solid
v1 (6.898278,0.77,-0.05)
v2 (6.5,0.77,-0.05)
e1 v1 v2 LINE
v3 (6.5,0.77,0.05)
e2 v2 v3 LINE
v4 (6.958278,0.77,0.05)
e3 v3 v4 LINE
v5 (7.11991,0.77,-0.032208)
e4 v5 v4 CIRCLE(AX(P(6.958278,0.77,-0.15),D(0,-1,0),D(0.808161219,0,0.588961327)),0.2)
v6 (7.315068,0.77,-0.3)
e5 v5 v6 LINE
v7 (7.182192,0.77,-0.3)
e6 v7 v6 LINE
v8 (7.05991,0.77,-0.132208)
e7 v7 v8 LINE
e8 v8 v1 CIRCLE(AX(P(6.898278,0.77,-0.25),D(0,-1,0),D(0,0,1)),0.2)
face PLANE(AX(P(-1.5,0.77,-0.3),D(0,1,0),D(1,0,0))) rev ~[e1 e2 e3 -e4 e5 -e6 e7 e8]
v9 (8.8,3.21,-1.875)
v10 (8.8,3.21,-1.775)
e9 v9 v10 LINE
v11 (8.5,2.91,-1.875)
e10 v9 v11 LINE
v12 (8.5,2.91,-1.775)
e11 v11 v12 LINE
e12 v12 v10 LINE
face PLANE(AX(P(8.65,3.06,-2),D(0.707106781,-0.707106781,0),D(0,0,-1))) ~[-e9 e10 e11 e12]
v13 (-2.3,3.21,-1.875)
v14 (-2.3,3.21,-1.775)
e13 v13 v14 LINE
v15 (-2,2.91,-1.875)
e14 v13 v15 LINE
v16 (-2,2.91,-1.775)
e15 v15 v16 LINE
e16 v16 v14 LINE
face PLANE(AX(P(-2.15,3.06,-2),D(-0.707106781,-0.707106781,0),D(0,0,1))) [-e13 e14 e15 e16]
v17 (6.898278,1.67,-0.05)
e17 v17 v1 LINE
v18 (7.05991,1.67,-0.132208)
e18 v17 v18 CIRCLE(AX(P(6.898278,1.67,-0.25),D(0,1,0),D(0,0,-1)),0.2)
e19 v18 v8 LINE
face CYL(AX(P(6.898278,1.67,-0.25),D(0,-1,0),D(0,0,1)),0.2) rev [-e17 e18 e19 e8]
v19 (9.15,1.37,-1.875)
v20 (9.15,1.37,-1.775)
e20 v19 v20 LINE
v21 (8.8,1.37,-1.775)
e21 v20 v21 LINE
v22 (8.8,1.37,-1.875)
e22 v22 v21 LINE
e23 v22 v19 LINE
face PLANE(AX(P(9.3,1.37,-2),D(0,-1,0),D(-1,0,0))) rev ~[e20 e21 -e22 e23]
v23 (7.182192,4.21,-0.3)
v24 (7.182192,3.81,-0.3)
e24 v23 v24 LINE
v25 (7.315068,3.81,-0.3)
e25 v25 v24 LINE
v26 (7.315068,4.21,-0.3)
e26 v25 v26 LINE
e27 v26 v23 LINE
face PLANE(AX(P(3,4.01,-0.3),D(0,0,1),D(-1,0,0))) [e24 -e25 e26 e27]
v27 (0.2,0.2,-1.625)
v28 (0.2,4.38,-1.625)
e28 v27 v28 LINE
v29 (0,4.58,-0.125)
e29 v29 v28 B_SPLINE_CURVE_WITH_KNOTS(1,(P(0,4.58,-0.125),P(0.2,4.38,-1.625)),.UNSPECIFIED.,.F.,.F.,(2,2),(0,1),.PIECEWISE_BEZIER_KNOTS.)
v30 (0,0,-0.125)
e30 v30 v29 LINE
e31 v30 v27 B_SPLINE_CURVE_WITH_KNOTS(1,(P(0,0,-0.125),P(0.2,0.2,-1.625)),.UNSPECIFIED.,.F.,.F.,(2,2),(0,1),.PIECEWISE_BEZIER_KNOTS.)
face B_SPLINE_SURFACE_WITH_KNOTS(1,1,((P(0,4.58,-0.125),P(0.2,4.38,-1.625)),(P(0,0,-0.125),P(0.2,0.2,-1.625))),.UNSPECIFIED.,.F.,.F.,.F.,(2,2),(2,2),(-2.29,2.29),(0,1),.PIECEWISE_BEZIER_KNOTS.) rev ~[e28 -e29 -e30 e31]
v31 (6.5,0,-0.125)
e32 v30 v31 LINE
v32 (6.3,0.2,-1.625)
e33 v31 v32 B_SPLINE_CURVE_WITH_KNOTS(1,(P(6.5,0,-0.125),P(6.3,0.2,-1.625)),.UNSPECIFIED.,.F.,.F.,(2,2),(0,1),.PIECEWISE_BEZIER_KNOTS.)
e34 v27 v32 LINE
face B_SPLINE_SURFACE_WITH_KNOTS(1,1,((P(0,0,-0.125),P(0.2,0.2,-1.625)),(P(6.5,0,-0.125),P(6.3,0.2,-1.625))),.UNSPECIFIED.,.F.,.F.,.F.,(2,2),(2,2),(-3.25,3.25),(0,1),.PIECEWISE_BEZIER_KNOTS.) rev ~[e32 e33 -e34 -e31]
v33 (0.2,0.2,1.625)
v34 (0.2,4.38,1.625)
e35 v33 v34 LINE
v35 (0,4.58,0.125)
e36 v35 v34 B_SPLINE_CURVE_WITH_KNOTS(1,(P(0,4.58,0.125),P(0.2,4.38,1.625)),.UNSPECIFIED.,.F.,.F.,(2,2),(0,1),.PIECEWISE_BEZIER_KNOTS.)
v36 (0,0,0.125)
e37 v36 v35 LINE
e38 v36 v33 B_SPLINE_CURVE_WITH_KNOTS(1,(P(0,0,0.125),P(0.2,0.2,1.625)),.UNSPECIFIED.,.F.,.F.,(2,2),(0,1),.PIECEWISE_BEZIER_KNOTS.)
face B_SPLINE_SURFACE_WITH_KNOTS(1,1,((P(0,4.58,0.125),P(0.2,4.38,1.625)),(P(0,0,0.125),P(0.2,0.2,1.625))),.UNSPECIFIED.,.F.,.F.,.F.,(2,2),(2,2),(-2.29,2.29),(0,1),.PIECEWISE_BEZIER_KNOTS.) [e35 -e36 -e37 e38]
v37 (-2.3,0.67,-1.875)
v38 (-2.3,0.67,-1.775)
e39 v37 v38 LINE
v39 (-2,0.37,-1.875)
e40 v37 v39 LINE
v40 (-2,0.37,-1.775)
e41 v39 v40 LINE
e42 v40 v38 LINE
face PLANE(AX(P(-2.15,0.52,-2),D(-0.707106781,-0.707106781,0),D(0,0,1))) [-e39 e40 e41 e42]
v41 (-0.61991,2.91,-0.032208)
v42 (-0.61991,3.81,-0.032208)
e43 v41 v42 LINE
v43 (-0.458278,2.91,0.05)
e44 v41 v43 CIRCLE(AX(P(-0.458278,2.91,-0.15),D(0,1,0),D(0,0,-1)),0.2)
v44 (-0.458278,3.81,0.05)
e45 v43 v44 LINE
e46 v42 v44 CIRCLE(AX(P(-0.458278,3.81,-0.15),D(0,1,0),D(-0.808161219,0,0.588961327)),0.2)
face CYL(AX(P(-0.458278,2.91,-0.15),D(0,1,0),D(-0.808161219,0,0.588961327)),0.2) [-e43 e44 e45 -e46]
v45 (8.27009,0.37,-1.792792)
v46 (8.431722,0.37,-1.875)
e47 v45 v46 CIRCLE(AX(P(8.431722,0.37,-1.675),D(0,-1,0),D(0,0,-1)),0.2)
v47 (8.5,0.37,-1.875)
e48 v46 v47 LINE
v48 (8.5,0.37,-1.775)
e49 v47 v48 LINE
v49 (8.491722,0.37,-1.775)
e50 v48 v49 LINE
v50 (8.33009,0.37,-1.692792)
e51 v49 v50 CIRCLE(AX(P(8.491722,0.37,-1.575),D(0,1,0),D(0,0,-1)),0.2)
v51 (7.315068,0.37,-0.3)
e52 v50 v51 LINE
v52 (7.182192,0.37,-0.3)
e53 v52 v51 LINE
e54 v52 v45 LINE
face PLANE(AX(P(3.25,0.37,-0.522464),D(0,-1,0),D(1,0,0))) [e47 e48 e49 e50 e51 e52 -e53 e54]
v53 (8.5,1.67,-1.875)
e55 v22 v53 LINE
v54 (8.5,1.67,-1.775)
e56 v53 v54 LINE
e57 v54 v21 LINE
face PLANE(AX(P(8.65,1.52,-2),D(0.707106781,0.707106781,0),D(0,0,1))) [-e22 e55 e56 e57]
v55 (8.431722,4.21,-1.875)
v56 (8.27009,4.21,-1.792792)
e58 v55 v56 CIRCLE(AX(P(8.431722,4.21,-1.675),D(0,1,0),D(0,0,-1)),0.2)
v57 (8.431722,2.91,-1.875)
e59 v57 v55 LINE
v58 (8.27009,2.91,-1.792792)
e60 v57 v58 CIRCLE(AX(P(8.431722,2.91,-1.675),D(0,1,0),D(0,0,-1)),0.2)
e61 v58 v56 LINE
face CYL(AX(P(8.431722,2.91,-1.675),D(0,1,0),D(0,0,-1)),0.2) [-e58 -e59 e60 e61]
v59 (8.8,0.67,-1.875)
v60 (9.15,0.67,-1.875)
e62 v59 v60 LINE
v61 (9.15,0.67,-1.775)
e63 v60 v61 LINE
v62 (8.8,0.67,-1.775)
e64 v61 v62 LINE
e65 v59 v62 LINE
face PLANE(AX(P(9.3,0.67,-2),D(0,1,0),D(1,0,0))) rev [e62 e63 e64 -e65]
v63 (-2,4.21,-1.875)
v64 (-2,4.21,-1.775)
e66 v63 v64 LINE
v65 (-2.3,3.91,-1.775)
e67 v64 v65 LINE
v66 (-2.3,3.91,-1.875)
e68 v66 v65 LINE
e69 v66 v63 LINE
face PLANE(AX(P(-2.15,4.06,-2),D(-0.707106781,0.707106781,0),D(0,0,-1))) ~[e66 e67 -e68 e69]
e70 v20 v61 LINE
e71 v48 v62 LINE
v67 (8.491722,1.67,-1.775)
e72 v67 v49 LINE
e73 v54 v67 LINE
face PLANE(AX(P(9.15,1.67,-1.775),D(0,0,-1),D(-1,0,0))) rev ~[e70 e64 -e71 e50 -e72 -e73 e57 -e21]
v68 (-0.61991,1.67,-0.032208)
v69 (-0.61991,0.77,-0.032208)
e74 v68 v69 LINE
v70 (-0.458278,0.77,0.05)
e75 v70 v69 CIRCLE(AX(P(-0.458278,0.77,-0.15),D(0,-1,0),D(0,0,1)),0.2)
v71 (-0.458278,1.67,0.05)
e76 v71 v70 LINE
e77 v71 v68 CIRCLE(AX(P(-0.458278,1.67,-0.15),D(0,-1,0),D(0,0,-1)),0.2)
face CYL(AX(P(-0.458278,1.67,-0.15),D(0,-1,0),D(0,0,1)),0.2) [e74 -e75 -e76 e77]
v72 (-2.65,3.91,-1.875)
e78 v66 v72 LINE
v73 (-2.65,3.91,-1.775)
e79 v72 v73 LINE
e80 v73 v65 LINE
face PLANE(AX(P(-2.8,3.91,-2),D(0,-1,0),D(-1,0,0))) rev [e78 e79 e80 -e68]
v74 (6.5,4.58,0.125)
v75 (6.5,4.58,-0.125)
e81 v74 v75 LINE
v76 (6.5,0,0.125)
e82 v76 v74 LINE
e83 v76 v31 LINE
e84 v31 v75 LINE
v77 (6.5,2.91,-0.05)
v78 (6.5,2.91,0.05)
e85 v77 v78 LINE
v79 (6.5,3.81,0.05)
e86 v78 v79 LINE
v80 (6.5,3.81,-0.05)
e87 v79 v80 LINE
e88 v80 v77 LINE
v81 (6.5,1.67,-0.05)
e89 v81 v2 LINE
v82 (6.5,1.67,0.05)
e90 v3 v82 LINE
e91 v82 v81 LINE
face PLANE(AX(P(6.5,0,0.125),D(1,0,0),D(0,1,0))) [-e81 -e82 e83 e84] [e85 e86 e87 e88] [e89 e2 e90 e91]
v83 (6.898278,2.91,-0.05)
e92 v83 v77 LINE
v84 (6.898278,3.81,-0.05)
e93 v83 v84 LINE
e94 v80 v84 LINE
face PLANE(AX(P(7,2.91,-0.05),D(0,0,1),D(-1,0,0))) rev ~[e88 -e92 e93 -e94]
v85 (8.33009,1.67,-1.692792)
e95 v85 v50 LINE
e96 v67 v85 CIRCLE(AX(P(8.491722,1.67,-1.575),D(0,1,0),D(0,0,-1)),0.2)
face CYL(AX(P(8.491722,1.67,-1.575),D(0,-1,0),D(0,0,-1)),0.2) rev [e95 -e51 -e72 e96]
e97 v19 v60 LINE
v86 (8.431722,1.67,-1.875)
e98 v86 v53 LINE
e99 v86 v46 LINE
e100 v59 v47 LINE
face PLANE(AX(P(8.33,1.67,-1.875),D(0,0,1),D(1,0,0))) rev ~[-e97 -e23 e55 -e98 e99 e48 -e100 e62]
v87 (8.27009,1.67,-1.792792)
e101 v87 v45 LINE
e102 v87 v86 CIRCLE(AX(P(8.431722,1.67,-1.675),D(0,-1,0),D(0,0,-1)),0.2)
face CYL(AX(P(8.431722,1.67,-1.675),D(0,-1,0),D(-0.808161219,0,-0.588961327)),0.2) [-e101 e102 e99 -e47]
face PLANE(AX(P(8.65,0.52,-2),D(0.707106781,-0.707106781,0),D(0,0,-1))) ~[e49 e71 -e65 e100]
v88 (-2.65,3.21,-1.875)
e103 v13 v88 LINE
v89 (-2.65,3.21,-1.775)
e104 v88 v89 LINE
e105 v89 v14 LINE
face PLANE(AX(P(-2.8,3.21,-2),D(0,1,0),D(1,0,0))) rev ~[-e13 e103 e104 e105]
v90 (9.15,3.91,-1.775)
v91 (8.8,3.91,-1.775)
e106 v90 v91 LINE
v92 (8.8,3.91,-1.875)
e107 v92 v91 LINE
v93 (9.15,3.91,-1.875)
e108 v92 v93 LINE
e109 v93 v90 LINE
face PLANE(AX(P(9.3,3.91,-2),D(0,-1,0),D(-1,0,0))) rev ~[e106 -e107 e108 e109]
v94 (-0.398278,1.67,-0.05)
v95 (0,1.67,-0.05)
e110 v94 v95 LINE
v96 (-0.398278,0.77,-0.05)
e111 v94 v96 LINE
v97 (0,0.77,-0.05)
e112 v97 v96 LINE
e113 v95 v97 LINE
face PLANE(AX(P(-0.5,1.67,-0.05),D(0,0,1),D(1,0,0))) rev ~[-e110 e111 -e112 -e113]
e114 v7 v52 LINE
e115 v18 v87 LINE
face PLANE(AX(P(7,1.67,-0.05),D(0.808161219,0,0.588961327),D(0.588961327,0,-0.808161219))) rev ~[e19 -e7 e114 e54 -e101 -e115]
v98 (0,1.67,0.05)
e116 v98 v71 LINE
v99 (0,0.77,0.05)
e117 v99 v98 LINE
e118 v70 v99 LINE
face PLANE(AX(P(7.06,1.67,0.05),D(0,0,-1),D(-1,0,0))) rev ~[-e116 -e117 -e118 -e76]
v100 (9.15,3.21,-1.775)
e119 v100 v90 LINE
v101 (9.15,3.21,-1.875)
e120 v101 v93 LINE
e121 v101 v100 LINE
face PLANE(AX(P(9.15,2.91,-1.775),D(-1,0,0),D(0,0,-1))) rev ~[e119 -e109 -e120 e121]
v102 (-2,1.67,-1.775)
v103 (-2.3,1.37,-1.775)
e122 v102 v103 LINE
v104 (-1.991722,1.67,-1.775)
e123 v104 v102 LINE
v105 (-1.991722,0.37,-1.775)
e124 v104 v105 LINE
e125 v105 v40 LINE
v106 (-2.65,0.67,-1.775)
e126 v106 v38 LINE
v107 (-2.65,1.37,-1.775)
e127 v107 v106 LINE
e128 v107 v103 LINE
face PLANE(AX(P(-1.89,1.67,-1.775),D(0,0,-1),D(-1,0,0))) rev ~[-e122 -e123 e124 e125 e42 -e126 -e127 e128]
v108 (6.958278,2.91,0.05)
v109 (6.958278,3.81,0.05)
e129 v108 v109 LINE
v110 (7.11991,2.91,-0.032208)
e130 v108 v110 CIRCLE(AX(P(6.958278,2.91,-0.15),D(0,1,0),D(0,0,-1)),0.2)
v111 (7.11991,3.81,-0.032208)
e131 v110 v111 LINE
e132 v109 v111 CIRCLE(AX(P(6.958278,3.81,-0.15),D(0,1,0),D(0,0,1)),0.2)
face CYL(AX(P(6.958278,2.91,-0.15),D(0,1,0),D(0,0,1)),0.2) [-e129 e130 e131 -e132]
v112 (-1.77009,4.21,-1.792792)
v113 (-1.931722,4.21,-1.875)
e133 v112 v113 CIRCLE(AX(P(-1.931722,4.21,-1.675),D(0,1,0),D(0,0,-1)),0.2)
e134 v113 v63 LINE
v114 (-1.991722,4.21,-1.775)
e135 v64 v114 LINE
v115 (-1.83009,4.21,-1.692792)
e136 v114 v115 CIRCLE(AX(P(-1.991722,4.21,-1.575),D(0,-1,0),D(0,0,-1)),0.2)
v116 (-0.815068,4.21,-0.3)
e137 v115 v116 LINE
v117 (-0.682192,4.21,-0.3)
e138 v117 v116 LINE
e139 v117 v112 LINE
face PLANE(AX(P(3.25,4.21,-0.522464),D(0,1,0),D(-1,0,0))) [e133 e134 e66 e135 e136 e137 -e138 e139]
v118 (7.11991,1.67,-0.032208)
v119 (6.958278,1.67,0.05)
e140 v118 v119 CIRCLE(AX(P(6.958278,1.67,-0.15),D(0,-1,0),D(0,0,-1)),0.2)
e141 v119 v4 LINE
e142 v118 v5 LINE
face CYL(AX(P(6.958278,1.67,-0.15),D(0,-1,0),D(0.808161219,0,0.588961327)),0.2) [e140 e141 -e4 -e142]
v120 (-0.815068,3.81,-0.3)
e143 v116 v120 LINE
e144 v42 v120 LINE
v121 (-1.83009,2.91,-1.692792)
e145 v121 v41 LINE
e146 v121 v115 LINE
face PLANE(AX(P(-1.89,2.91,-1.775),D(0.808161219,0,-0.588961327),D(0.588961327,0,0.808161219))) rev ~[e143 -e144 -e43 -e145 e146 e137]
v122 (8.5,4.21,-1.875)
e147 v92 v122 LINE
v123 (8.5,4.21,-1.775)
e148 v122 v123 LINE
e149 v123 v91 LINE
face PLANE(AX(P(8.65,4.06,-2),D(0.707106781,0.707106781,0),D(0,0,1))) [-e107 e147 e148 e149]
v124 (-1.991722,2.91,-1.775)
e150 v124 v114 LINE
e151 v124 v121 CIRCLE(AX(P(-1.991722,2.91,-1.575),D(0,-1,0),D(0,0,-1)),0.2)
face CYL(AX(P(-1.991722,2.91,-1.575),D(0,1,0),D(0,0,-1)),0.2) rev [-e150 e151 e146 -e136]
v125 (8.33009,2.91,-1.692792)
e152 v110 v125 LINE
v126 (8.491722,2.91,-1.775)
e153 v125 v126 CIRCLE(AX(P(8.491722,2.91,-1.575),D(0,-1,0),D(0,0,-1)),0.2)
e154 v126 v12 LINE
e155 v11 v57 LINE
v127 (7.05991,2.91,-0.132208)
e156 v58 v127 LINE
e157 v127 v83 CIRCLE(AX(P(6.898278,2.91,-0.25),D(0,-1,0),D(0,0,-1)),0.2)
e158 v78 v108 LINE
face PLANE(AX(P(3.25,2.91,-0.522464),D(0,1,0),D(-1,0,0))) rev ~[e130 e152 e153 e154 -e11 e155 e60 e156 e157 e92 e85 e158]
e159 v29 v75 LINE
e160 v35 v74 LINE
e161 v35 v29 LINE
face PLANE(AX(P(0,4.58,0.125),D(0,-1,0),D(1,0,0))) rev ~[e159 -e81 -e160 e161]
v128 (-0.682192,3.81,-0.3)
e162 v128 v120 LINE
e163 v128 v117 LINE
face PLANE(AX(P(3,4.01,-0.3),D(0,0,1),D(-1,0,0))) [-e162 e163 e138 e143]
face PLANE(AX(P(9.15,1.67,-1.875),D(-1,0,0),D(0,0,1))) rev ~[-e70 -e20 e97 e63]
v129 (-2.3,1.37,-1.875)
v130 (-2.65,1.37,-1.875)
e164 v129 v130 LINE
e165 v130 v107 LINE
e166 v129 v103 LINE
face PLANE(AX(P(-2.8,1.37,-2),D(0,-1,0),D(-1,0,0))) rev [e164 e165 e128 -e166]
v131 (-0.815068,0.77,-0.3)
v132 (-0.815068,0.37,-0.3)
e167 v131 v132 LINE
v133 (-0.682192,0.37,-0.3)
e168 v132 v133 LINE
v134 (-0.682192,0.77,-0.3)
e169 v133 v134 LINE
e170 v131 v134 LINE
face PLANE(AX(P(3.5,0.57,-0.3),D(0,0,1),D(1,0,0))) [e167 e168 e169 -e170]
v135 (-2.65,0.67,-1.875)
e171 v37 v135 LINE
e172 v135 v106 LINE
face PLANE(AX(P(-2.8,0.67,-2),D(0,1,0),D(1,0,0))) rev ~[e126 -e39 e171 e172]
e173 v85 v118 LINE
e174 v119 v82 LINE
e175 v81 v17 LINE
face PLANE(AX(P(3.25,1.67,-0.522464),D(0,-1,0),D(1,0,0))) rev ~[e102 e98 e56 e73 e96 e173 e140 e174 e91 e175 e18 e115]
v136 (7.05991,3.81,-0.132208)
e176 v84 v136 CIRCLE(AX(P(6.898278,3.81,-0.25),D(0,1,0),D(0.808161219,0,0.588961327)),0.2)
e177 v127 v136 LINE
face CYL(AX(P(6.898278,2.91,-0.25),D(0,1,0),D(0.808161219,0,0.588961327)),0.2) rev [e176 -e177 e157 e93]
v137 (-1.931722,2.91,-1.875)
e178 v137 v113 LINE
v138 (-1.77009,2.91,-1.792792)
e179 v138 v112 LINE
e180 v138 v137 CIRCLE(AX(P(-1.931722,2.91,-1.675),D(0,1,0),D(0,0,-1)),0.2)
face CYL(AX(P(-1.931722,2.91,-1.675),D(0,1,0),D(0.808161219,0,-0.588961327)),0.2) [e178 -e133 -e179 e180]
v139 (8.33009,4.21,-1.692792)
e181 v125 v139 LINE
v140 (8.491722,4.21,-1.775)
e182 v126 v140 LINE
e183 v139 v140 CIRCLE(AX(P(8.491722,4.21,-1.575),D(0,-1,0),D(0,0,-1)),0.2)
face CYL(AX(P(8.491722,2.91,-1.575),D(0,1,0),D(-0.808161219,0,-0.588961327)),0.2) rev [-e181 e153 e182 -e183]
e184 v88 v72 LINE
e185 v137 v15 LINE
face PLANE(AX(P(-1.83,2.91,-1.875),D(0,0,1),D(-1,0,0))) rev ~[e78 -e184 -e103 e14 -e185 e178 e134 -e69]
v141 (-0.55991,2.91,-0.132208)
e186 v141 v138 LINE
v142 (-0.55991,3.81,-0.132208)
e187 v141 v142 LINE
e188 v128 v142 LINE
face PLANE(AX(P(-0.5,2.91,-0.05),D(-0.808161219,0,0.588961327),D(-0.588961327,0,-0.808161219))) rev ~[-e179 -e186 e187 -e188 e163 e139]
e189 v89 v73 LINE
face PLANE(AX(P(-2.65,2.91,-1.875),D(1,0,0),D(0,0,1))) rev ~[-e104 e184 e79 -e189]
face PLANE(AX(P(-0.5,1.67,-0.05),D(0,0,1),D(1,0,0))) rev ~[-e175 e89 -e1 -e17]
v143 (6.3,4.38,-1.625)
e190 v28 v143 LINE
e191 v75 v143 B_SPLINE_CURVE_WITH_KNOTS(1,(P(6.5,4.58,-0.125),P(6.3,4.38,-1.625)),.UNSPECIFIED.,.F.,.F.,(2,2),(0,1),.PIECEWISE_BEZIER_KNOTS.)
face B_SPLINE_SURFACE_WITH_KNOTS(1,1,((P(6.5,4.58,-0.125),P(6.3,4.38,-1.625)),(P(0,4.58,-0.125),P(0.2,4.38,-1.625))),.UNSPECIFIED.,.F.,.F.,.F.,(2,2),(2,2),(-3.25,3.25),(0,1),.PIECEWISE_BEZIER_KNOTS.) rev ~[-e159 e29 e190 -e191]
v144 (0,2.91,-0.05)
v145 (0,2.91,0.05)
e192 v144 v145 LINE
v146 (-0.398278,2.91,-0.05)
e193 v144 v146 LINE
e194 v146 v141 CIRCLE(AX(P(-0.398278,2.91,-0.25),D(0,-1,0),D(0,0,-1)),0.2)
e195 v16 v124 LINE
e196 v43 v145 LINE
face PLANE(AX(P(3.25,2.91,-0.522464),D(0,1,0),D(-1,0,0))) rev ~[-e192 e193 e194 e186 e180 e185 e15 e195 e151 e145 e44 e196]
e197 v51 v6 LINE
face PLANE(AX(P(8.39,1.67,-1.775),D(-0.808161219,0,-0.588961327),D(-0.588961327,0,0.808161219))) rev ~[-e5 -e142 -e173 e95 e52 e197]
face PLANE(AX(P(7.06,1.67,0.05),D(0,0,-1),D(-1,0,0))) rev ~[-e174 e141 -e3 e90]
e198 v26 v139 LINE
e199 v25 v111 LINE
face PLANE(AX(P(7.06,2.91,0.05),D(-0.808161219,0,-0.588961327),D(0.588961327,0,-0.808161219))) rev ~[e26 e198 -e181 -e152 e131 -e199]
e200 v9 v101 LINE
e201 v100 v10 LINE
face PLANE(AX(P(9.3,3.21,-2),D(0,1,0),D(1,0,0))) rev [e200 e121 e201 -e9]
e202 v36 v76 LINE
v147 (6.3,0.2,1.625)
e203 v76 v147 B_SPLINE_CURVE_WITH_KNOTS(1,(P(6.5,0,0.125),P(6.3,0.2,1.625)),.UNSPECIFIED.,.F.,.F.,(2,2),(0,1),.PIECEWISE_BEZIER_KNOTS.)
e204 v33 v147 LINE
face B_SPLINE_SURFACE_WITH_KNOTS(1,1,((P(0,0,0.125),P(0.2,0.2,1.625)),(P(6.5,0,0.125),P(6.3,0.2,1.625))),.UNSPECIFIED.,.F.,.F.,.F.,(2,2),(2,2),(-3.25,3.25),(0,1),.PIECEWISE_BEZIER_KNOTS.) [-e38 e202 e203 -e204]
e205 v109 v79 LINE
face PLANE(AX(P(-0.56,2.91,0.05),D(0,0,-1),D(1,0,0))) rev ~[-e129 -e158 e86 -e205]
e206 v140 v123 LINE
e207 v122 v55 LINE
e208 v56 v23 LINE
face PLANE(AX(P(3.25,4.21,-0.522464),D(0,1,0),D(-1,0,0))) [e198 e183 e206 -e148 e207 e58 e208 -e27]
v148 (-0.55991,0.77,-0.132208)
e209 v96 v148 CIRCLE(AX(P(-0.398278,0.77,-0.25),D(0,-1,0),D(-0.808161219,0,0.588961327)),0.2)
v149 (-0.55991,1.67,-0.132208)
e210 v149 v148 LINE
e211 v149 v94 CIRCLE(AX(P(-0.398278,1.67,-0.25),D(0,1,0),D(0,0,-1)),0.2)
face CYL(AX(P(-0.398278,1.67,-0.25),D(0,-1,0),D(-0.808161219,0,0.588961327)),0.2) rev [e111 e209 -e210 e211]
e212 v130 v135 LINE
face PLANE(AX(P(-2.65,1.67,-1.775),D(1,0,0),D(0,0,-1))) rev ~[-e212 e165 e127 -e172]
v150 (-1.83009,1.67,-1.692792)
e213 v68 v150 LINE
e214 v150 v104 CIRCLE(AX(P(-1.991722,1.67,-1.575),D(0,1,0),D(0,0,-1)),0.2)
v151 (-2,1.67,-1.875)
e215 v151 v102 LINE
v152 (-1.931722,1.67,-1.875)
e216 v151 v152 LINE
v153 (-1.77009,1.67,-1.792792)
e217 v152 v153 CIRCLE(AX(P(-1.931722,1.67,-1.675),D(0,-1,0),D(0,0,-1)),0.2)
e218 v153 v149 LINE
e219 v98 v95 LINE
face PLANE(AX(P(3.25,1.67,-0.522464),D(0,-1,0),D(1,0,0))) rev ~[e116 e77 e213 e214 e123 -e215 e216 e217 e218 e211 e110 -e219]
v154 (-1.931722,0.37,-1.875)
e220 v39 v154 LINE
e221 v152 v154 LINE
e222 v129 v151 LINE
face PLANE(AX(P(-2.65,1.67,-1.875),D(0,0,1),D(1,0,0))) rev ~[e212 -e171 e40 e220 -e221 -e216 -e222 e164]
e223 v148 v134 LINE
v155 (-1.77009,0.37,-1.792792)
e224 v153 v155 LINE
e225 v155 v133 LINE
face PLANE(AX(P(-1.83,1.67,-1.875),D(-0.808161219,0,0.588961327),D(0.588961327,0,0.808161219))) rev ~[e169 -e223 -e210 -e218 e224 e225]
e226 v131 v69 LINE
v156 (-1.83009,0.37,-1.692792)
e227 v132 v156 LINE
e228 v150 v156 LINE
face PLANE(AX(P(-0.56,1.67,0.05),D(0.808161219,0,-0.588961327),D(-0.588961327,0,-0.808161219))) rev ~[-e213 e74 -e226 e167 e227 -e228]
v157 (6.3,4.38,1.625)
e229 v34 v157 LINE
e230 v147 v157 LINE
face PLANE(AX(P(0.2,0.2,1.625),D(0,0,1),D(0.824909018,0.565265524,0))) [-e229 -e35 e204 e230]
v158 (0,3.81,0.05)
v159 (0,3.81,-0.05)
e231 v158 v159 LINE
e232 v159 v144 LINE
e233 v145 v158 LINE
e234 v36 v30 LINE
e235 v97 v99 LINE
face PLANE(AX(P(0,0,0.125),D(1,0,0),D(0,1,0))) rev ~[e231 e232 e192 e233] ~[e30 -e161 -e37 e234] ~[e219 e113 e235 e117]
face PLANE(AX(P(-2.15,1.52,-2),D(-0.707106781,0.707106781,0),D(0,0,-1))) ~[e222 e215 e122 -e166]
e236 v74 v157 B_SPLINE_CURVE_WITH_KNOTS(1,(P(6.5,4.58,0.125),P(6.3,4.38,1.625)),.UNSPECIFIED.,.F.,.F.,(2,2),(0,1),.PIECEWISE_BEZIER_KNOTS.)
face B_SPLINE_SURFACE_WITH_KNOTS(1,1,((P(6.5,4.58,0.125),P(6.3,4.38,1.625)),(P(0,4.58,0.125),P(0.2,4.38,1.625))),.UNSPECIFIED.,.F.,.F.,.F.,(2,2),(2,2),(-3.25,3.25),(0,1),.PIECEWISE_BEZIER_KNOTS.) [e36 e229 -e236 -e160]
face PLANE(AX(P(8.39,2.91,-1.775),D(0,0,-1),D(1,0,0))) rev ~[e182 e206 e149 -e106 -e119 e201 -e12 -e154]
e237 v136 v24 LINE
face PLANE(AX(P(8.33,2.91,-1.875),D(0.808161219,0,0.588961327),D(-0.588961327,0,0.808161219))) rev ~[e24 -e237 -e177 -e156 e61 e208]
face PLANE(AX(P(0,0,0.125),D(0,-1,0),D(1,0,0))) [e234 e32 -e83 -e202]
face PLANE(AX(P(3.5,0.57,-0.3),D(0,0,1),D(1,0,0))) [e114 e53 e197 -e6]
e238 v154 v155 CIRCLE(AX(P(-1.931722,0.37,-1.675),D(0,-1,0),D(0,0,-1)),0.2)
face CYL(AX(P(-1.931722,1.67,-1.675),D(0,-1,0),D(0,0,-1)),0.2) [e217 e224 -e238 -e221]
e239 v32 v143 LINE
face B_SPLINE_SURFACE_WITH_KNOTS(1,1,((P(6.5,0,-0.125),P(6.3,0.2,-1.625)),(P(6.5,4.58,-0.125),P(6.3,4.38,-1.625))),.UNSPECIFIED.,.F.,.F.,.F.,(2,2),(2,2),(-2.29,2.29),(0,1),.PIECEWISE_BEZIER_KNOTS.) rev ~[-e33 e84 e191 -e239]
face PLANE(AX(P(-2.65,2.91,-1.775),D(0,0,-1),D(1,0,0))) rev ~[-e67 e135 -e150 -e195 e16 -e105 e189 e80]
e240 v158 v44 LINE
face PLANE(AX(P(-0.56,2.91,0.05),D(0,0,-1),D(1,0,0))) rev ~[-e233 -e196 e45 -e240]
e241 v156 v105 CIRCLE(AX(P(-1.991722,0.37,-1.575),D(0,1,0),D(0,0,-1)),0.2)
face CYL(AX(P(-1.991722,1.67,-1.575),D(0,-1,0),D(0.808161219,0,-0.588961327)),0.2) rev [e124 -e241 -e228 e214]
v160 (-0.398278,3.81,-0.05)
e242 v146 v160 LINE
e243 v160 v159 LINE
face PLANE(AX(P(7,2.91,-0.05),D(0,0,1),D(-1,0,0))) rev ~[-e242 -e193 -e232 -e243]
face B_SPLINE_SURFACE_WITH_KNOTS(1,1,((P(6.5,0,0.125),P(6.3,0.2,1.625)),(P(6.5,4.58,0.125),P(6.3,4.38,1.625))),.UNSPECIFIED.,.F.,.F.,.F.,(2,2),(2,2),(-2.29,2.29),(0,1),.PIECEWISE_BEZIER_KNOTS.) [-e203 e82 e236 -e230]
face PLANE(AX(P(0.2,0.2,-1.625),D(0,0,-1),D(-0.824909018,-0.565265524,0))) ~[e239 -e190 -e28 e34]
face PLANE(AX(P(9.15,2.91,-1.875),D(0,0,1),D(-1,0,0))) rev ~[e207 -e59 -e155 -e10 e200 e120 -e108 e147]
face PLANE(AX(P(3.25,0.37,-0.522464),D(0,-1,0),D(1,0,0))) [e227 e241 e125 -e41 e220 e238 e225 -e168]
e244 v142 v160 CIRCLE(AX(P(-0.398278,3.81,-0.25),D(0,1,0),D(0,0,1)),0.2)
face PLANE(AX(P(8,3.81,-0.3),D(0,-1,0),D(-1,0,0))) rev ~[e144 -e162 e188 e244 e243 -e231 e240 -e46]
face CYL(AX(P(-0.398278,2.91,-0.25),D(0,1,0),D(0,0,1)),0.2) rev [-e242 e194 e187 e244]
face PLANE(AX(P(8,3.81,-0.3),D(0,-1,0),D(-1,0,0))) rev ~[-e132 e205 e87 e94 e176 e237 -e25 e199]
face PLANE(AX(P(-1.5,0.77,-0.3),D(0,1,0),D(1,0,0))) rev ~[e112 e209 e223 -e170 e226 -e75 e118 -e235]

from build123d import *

# Parameters (mm, degrees)
BOX001_W               = 0.8
BOX001_H               = 0.8
BOX001_DEPTH           = 0.5
CHAMFER_SIZE           = 0.3
BOX_W                  = 10
BOX_H                  = 0.4
BOX_DEPTH              = 0.4
EXTRUDE001_DEPTH       = 1.3
FILLET_R               = 0.2
CUT005_PLACEMENT_ANGLE = 180
SKETCH_W               = 6.5
SKETCH_H               = 4.58
EXTRUDE_DEPTH          = 0.25
SKETCH001_W            = 6.1
SKETCH001_H            = 4.18


with BuildPart() as chamfer_body:
    # Box001 → Box001 (new body)
    with BuildSketch(Plane(origin=(-2.9, -0.2, -2), x_dir=(1, 0, 0), z_dir=(0, 0, 1))):
        with Locations((0.4, 0.4)):
            Rectangle(BOX001_W, BOX001_H)
    extrude(amount=BOX001_DEPTH)

    # Chamfer
    chamfer_edges = [chamfer_body.edges().sort_by_distance(p)[0] for p in [
        (-2.1, 0.6, -1.75),
    ]]
    chamfer(chamfer_edges, length=CHAMFER_SIZE)


with BuildPart() as chamfer_body_1:
    # Chamfer placement: moved
    add(chamfer_body.part.moved(Location((0.1, -0.1, 0))))


with BuildPart() as part_mirroring001:
    # Part__Mirroring001: instance of Chamfer body
    add(chamfer_body_1.part.mirror(Plane(origin=(0, 0.85, 0), x_dir=(1, 0, 0), z_dir=(0, 1, 0))))


with BuildPart() as part_mirroring002:
    # Part__Mirroring002: instance of Part__Mirroring001
    add(part_mirroring001.part.mirror(Plane(origin=(3.25, 0, 0), x_dir=(0, -1, 0), z_dir=(1, 0, 0))))


with BuildPart() as part_mirroring003:
    # Part__Mirroring003: instance of Part__Mirroring002
    add(part_mirroring002.part.mirror(Plane(origin=(0, 0.85, 0), x_dir=(1, 0, 0), z_dir=(0, 1, 0))))


with BuildPart() as cube:
    # Box → Box (new body)
    with BuildSketch(Plane(origin=(-1.5, 0.2, -0.3), x_dir=(1, 0, 0), z_dir=(0, 0, 1))):
        with Locations((5, 0.2)):
            Rectangle(BOX_W, BOX_H)
    extrude(amount=BOX_DEPTH)


with BuildPart() as cut003:
    # Sketch002 → Extrude001 (new body)
    with BuildSketch(Plane.XZ.offset(-0.2)):
        Polygon((-2.65, -1.875), (-1.83, -1.875), (-0.5, -0.05), (7, -0.05), (8.33, -1.875), (9.15, -1.875), (9.15, -1.775), (8.39, -1.775), (7.06, 0.05), (-0.56, 0.05), (-1.89, -1.775), (-2.65, -1.775), align=None)
    extrude(amount=EXTRUDE001_DEPTH)


with BuildPart() as cut003_1:
    # Extrude001 placement: moved
    add(cut003.part.moved(Location((0, 1.3, 0))))

    # Fillet
    fillet_edges = [cut003_1.edges().sort_by_distance(p)[0] for p in [
        (-1.83, 0.85, -1.875),
        (-0.5, 0.85, -0.05),
        (7, 0.85, -0.05),
        (8.33, 0.85, -1.875),
        (8.39, 0.85, -1.775),
        (7.06, 0.85, 0.05),
        (-0.56, 0.85, 0.05),
        (-1.89, 0.85, -1.775),
    ]]
    fillet(fillet_edges, radius=FILLET_R)

    # Cut: cut Cube
    add(cube.part, mode=Mode.SUBTRACT)

    # Cut001: cut Chamfer body
    add(chamfer_body_1.part, mode=Mode.SUBTRACT)

    # Cut002: cut Part__Mirroring001
    add(part_mirroring001.part, mode=Mode.SUBTRACT)

    # Cut003: cut Part__Mirroring002
    add(part_mirroring002.part, mode=Mode.SUBTRACT)


with BuildPart() as legs001:
    # Cut004 base: copy of Cut003
    add(cut003_1.part)

    # Cut004: cut Part__Mirroring003
    add(part_mirroring003.part, mode=Mode.SUBTRACT)


with BuildPart() as legs001_1:
    # Cut004 placement: moved
    add(legs001.part.moved(Location((0, 0.17, 0))))


with BuildPart() as legs002:
    # Cut005 base: copy of Cut003
    add(cut003_1.part)

    # Cut005: cut Part__Mirroring003
    add(part_mirroring003.part, mode=Mode.SUBTRACT)


with BuildPart() as legs002_1:
    # Cut005 placement: moved
    add(legs002.part.moved(Location((6.5, 4.41, 0))).rotate(Axis((6.5, 4.41, 0), (0, 0, 1)), CUT005_PLACEMENT_ANGLE))


with BuildPart() as extrude_body:
    # Sketch → Extrude (new body)
    with BuildSketch(Plane.XY.offset(0.125)):
        with Locations((3.25, 2.29)):
            Rectangle(SKETCH_W, SKETCH_H)
    extrude(amount=-EXTRUDE_DEPTH)


with BuildPart() as loft_body:
    # Sketch → Loft section 0
    with BuildSketch(Plane.XY.offset(0.125)):
        with Locations((3.25, 2.29)):
            Rectangle(SKETCH_W, SKETCH_H)
    # Sketch001 → Loft section 1
    with BuildSketch(Plane.XY.offset(1.625)):
        with Locations((3.25, 2.29)):
            Rectangle(SKETCH001_W, SKETCH001_H)
    loft()


with BuildPart() as part_mirroring:
    # Part__Mirroring: instance of Loft body
    add(loft_body.part.mirror(Plane(origin=(3.25, 2.29, 0), x_dir=(0, 1, 0), z_dir=(0, 0, 1))))


with BuildPart() as fusion001:
    # Fusion base: copy of Loft body
    add(loft_body.part)

    # Fusion: union Extrude body, Part__Mirroring
    add(extrude_body.part)
    add(part_mirroring.part)

    # Fusion001: union Legs001, Legs002
    add(legs001_1.part)
    add(legs002_1.part)


solid = fusion001.part
